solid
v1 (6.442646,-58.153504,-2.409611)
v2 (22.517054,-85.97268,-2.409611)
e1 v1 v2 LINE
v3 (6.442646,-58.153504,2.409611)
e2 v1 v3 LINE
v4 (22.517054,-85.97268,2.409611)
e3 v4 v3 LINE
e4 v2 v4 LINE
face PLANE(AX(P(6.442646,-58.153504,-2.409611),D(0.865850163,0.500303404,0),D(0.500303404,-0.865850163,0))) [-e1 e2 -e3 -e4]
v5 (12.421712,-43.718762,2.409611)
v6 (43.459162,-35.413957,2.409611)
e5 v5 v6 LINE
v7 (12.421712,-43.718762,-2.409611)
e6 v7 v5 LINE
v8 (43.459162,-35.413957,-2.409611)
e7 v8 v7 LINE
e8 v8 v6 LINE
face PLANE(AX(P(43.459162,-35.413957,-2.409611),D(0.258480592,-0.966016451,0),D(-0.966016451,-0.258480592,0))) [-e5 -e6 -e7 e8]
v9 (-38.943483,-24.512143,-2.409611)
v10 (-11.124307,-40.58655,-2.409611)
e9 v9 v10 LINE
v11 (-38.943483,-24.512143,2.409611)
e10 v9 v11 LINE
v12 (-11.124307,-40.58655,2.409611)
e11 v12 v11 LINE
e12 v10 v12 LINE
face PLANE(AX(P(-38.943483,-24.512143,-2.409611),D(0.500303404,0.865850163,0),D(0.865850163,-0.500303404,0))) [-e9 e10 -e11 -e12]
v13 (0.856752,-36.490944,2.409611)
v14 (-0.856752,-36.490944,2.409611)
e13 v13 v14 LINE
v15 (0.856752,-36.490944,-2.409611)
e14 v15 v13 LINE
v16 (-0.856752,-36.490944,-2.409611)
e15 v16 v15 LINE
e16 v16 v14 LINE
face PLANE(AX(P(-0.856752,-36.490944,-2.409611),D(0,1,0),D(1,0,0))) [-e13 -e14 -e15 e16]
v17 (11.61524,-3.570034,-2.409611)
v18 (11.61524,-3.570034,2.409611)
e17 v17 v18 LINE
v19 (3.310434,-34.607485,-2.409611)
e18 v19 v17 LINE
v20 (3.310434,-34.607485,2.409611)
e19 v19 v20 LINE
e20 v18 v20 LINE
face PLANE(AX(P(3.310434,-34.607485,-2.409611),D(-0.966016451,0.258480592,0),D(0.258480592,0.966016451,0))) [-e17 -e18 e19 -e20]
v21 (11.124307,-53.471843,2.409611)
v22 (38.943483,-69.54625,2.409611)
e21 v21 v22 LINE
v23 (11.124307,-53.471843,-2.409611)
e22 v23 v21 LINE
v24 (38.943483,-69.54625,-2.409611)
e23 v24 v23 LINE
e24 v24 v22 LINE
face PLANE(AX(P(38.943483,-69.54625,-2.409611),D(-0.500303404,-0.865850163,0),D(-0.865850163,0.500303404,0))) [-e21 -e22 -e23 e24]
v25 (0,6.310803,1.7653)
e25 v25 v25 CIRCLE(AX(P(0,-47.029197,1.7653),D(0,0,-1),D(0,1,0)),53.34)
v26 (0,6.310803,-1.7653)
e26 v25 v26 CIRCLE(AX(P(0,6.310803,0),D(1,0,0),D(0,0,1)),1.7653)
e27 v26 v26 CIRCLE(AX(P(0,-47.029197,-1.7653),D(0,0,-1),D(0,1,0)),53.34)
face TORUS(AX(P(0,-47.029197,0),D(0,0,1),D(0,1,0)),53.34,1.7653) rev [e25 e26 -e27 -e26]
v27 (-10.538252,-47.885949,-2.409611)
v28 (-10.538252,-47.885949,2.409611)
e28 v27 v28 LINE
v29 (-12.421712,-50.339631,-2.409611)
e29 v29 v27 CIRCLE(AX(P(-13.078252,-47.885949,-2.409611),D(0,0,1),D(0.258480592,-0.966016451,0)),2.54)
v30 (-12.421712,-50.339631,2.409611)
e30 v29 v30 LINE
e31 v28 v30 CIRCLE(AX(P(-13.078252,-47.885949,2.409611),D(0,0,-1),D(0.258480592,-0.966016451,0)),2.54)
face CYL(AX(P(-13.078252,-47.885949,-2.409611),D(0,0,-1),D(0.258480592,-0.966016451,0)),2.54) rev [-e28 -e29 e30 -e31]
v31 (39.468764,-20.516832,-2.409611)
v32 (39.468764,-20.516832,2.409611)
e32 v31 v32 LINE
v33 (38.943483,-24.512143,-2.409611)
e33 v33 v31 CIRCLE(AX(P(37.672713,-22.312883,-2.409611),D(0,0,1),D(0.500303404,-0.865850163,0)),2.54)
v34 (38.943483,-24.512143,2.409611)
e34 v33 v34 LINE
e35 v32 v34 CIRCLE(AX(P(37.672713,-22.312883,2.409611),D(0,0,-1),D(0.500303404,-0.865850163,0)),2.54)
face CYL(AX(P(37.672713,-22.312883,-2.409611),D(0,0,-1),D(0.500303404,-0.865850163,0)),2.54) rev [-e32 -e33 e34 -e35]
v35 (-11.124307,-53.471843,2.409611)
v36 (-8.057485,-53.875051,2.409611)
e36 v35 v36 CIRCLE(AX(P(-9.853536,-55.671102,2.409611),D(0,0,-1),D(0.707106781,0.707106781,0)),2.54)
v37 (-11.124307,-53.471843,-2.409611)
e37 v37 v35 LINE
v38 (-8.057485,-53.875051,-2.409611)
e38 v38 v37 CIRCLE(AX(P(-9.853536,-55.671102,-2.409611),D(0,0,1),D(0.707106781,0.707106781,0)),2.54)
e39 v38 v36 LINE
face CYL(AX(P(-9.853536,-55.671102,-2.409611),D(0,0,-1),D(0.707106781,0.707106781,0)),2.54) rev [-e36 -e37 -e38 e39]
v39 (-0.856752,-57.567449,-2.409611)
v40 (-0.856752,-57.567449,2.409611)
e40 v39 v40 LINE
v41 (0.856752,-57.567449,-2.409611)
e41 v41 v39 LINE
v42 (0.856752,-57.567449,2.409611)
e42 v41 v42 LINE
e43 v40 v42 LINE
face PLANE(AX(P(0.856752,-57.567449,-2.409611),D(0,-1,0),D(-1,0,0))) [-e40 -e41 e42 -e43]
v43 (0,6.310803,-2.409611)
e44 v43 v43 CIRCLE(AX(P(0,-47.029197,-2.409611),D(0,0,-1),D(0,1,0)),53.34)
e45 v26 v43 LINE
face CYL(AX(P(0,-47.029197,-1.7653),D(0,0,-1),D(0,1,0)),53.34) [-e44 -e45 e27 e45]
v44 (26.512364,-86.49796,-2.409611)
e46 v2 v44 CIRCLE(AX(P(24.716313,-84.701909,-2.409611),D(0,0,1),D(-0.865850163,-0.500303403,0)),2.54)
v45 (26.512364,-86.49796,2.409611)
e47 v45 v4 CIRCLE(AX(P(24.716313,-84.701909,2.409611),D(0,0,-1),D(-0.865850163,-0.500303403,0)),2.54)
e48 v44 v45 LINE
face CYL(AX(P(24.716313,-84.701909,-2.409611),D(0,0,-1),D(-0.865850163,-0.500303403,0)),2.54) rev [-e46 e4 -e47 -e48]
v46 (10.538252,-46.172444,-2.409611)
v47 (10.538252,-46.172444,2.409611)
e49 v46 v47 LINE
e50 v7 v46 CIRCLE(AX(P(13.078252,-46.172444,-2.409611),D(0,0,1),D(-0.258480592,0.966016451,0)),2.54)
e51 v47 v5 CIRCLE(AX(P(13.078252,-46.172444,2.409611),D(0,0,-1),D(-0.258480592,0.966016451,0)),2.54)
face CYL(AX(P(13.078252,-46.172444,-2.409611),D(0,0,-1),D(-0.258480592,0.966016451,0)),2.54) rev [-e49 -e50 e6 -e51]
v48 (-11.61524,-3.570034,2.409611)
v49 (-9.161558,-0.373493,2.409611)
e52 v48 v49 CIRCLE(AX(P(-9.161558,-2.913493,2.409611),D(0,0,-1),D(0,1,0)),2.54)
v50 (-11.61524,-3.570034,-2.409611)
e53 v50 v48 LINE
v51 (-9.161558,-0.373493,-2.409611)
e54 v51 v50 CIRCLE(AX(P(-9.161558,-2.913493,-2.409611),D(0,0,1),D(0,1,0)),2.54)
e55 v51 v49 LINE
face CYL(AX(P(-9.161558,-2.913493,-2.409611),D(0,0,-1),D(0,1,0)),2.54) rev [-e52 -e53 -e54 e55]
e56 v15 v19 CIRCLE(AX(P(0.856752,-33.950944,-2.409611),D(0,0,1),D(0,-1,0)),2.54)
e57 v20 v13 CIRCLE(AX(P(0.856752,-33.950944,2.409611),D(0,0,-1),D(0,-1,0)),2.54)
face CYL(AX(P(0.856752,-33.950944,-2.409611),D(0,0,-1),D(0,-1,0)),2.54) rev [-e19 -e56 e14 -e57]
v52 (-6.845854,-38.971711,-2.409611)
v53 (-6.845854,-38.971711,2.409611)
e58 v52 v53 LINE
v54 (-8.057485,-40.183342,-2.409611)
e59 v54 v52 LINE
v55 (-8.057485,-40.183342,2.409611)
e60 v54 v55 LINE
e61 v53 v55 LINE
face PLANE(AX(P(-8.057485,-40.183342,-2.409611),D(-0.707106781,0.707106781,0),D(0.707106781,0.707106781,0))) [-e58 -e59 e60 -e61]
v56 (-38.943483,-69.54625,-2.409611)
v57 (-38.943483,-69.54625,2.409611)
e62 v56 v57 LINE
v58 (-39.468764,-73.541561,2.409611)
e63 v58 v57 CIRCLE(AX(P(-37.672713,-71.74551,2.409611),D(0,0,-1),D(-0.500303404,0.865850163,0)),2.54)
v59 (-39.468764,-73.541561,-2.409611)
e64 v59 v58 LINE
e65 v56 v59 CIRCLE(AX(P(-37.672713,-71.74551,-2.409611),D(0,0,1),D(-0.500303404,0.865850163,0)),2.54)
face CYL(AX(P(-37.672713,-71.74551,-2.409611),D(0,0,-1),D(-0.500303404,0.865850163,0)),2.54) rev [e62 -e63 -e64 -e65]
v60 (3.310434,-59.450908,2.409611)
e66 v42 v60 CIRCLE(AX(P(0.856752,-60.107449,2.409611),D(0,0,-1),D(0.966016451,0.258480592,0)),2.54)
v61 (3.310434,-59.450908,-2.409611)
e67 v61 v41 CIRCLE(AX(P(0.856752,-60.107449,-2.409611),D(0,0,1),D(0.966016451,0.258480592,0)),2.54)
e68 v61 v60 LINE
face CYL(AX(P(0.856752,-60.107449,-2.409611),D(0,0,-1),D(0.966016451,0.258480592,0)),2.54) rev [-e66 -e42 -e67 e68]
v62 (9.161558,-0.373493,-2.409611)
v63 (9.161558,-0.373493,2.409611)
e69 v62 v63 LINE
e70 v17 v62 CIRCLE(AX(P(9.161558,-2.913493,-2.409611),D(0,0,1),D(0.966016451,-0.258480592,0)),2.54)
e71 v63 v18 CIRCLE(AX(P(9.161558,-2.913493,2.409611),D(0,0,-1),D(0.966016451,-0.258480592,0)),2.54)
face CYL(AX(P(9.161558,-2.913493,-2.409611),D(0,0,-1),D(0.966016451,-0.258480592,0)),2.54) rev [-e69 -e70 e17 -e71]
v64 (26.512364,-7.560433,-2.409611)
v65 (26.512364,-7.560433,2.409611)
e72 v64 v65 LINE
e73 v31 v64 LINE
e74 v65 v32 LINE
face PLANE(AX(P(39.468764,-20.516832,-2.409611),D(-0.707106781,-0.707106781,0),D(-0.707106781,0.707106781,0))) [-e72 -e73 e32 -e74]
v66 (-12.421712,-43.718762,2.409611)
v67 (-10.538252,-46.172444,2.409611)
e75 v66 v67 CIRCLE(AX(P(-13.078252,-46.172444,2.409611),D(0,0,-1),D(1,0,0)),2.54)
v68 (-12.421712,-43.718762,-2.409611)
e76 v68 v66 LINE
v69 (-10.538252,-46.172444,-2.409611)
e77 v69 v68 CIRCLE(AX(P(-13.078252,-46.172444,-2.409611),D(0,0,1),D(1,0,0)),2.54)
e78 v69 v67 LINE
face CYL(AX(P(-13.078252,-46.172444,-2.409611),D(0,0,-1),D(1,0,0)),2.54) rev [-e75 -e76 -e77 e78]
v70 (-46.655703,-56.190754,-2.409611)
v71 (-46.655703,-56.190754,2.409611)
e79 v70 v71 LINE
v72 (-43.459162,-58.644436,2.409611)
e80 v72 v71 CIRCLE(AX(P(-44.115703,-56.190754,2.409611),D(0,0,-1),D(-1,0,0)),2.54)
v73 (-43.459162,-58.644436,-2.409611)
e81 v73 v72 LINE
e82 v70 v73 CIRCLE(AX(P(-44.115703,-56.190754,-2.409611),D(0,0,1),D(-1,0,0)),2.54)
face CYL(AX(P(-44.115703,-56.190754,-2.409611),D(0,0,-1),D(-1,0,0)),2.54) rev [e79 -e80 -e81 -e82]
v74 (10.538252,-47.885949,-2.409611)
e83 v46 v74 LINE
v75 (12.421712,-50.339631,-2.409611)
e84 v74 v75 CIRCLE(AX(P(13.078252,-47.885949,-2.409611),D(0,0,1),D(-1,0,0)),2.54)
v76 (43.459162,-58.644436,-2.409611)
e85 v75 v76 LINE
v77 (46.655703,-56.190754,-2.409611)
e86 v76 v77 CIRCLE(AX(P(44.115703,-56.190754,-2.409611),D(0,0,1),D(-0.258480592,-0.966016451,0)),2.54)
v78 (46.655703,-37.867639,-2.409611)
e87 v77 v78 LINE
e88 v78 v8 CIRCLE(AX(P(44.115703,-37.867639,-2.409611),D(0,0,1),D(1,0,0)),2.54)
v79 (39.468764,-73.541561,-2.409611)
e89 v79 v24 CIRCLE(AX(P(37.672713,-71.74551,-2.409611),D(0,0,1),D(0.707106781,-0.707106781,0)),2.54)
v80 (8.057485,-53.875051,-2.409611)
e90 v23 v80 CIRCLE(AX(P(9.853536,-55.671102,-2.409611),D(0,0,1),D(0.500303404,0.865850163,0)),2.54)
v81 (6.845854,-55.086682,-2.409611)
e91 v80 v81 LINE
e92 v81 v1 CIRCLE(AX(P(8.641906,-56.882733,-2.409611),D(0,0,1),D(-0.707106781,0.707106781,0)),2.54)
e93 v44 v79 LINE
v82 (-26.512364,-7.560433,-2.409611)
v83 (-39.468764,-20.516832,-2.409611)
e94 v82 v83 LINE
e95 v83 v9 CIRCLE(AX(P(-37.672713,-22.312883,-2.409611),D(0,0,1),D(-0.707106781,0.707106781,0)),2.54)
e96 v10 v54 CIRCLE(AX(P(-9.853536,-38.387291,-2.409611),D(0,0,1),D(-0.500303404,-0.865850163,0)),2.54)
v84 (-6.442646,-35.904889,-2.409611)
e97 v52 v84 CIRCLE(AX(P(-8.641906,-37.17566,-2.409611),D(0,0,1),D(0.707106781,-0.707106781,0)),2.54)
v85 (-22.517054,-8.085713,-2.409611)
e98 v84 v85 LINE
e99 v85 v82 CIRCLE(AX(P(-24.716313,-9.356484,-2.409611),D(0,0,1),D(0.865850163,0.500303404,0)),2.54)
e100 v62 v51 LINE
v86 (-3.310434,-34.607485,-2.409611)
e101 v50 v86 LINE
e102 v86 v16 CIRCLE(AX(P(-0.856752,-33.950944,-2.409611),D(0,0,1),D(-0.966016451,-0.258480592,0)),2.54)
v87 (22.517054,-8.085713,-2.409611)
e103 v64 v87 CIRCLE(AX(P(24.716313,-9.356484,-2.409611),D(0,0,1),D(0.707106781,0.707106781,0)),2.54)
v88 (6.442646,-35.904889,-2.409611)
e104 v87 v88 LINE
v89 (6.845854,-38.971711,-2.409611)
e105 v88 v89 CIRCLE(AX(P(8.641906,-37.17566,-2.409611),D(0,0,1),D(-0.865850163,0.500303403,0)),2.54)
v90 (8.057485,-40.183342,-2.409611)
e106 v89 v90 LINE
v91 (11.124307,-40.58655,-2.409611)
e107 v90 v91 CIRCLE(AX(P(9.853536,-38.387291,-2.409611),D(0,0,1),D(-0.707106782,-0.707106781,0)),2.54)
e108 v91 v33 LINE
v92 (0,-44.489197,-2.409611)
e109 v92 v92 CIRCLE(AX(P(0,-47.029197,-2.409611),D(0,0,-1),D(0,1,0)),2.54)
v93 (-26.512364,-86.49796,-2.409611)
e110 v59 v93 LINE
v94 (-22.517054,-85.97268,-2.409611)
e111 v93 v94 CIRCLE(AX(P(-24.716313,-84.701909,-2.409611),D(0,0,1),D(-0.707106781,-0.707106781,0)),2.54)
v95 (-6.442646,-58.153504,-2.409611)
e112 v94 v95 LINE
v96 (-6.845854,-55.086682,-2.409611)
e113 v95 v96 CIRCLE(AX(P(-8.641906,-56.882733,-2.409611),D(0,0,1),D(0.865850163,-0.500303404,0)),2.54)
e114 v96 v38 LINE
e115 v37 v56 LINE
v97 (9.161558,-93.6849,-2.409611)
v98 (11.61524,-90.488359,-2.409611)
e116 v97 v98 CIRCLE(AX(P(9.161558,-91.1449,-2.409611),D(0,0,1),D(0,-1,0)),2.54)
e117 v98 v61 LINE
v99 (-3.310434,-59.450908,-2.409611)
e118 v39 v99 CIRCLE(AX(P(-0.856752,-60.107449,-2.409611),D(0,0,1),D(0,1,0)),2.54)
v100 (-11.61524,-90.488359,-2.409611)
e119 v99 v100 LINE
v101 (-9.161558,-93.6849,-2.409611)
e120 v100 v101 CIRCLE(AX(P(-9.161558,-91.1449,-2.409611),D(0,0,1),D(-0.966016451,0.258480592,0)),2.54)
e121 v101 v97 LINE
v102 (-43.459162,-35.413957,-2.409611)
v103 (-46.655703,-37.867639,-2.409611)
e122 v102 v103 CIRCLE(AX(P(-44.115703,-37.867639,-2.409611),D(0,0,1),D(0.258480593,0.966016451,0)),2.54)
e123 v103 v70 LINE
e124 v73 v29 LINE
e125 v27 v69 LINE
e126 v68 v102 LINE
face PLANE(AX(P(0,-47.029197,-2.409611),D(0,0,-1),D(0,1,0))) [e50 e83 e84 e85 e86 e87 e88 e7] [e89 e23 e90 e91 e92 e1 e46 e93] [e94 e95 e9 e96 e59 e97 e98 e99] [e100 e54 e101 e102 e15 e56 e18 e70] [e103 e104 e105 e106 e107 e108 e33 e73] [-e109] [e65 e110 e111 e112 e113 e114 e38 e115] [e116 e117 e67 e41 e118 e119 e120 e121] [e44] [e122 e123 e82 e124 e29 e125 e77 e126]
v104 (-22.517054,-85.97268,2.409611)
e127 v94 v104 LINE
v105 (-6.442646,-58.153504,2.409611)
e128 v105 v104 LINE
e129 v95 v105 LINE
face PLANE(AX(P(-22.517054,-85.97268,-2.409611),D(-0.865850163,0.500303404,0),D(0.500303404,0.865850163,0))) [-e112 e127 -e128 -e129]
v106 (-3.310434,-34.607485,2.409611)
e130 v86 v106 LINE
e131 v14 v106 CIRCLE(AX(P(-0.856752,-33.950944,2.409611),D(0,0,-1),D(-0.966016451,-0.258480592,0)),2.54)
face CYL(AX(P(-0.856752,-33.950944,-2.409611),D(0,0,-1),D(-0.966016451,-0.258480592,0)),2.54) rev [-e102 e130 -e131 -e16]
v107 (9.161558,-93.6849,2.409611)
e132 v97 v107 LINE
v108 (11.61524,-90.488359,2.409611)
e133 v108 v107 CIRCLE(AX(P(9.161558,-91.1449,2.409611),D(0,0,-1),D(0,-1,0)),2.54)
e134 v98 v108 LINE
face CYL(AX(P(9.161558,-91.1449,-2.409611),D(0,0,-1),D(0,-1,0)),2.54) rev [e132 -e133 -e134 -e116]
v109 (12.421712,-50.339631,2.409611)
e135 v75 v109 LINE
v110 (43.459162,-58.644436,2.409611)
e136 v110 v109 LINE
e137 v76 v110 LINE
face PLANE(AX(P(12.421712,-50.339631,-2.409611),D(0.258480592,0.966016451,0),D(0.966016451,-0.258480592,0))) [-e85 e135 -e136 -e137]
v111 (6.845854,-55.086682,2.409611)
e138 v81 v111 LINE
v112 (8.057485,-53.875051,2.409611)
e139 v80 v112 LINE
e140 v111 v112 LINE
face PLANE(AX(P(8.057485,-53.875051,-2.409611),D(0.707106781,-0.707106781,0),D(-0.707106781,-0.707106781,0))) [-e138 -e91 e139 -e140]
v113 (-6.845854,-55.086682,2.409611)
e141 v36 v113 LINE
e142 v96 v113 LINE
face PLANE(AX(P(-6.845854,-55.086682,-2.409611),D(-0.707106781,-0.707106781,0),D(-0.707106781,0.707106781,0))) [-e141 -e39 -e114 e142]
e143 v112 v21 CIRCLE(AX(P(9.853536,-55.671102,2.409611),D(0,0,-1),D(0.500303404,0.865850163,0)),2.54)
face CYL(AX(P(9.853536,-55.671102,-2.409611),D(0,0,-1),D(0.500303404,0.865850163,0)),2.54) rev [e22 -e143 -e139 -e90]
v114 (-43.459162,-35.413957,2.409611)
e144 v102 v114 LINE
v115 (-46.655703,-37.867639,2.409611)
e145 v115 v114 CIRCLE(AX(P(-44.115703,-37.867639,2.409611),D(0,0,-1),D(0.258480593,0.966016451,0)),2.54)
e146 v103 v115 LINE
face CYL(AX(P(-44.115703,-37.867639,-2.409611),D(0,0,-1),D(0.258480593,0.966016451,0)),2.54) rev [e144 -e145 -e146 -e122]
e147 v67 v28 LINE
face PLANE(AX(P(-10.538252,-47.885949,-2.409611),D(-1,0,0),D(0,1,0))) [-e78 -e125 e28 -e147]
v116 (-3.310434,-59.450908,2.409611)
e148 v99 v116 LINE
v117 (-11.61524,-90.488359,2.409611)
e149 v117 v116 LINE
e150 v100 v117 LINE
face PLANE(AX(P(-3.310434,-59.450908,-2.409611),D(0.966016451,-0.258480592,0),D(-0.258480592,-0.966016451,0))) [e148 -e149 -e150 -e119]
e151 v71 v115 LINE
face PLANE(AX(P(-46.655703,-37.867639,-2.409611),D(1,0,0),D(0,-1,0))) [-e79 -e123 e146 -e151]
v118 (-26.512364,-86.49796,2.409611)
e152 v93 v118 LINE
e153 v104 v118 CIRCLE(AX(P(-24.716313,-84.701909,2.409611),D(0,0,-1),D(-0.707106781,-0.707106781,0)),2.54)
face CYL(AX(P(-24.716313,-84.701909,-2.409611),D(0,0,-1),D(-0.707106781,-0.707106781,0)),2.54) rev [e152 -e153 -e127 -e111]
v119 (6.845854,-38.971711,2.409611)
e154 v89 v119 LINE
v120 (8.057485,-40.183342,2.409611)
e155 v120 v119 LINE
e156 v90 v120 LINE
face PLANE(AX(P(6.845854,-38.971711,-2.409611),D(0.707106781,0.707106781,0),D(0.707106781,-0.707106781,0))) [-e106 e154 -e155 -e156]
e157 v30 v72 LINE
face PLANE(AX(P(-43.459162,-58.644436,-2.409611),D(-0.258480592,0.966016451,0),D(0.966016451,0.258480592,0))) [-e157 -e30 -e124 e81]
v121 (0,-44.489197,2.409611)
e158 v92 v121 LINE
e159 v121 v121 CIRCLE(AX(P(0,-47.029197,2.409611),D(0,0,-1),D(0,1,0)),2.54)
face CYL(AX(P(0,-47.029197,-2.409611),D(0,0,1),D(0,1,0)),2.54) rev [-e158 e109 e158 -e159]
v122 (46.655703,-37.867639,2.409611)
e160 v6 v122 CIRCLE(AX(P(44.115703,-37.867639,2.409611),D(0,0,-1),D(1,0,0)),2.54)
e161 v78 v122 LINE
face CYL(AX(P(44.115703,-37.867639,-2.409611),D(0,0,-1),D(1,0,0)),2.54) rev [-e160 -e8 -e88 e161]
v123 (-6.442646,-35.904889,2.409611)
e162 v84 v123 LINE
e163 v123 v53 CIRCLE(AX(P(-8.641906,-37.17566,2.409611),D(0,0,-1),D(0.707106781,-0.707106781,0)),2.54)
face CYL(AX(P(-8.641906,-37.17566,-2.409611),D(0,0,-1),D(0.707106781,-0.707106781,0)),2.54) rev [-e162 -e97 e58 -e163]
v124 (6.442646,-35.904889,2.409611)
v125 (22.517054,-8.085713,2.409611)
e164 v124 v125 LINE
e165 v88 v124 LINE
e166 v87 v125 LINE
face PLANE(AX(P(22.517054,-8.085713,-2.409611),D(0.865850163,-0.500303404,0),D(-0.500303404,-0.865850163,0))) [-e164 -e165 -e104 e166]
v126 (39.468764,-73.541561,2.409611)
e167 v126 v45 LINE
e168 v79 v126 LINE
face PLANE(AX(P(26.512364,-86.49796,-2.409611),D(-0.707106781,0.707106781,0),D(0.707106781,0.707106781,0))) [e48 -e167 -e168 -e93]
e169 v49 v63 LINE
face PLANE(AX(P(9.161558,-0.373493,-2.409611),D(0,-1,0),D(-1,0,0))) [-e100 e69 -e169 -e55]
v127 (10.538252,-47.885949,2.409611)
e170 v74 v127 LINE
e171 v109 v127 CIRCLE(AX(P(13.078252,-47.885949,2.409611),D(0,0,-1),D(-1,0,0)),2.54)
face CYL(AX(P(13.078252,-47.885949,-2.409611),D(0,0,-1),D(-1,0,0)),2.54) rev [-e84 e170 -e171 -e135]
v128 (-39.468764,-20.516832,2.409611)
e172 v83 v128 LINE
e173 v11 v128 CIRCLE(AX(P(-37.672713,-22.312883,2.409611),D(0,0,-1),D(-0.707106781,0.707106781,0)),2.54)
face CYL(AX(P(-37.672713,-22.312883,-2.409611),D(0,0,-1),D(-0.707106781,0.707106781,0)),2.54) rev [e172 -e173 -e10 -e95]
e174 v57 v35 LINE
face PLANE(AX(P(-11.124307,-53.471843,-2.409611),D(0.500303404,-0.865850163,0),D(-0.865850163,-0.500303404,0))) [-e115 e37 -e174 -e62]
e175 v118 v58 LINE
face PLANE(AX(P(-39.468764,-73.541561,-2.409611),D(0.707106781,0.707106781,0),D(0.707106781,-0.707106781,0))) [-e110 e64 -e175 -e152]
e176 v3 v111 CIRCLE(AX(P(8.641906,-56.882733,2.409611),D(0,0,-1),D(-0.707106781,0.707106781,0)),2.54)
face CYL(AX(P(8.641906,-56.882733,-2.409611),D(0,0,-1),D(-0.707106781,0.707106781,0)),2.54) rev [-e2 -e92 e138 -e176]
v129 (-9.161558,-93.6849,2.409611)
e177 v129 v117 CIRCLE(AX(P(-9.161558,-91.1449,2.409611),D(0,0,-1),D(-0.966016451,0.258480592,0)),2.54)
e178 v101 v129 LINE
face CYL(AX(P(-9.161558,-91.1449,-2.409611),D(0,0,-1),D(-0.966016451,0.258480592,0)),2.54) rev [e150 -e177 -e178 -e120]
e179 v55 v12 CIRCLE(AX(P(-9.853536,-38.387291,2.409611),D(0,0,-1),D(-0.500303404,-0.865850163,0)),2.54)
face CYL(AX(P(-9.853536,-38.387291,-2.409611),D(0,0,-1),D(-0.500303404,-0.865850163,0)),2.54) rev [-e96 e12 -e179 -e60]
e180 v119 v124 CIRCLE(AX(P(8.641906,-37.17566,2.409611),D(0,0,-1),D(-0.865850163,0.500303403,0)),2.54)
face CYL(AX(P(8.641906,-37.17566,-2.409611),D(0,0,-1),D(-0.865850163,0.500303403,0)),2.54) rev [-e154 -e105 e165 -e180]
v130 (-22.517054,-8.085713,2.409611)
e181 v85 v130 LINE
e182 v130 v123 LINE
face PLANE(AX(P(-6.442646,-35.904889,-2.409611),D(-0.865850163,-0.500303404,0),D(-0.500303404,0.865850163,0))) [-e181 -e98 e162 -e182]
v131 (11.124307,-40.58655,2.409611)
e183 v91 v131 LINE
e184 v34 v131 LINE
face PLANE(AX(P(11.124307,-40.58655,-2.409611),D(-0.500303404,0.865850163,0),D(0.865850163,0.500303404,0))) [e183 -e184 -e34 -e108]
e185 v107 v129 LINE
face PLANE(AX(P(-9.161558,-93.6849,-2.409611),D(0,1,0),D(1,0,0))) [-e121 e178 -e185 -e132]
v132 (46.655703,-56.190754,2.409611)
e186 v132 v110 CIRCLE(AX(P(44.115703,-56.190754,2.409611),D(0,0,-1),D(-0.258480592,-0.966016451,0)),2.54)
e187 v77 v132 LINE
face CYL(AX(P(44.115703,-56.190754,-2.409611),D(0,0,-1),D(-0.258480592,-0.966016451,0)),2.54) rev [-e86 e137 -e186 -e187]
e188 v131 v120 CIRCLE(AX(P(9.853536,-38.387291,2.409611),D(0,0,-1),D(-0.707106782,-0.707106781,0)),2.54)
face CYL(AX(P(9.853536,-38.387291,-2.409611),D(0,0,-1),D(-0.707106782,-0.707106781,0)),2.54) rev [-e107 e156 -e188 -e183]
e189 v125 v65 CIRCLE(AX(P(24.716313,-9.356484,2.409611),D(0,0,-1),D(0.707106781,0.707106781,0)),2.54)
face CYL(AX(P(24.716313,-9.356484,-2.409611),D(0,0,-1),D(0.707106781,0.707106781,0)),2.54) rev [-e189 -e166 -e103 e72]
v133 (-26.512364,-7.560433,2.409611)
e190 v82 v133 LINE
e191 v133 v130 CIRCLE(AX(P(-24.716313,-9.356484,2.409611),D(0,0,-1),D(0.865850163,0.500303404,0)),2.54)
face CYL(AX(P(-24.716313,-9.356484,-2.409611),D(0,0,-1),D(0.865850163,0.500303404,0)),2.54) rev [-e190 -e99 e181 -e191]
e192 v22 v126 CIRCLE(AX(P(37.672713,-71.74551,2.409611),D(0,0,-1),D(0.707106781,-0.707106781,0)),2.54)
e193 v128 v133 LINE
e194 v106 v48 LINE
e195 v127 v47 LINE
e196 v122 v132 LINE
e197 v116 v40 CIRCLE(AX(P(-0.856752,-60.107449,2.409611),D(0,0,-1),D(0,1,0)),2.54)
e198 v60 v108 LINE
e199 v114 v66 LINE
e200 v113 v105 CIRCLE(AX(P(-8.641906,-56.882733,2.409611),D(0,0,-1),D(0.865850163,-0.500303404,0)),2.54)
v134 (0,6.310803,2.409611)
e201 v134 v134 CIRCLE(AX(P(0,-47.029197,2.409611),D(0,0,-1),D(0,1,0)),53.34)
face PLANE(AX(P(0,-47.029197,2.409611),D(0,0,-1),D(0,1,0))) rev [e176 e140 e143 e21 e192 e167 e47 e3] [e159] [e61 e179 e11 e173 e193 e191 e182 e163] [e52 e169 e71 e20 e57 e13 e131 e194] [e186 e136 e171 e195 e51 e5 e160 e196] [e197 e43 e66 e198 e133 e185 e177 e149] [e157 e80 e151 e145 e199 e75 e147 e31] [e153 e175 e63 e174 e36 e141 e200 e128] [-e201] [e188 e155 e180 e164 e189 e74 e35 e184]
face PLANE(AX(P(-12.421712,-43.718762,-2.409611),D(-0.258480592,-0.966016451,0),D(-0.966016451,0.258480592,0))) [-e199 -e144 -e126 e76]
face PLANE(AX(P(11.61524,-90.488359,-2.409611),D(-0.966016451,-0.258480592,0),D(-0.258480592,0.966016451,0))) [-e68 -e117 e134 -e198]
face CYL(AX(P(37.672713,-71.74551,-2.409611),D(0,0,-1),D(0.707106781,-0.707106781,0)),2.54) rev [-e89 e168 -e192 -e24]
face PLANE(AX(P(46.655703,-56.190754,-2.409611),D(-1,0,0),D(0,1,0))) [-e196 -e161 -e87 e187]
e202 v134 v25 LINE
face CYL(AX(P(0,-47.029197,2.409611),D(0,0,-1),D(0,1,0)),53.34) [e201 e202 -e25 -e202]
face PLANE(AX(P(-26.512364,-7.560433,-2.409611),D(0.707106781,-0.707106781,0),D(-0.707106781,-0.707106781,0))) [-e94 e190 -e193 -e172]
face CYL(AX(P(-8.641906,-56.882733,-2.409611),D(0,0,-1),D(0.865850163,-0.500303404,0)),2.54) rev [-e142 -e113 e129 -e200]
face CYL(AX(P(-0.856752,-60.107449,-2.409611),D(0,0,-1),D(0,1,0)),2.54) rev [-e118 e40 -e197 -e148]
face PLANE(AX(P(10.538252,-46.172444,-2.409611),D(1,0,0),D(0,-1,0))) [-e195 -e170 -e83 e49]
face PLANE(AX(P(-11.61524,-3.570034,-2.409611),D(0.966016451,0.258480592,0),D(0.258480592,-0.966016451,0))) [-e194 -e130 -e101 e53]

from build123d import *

# Parameters (mm, degrees)
CUT_EXTRUDE1_DEPTH = 7.62


with BuildPart() as part:
    # Sketch1 → Revolve1 (revolve)
    with BuildSketch(Plane(origin=(0, 0, 0), x_dir=(0, 0, -1), z_dir=(1, 0, 0))):
        with BuildLine():
            Line((-2.409610907, -44.48919659), (-2.409610907, 6.31080341))
            Line((-2.409610907, 6.31080341), (-1.7653, 6.31080341))
            ThreePointArc((-1.7653, 6.31080341), (0, 4.54550341), (1.7653, 6.31080341))
            Line((1.7653, 6.31080341), (2.409610907, 6.31080341))
            Line((2.409610907, 6.31080341), (2.409610907, -44.48919659))
            Line((2.409610907, -44.48919659), (-2.409610907, -44.48919659))
        make_face()
    revolve(axis=Axis((0, -47.02919659, 19.251181834), (0, 0, -1)))

    # Sketch2 → Cut-Extrude1 (cut)
    with BuildSketch(Plane(origin=(0, 0, -2.409610907), x_dir=(-1, 0, 0), z_dir=(0, 0, -1))):
        with BuildLine():
            Line((-9.161557863, -0.373493478), (9.161557863, -0.373493478))
            ThreePointArc((9.161557863, -0.373493478), (11.176404431, -1.366886448), (11.615239648, -3.570034182))
            Line((11.615239648, -3.570034182), (3.310434261, -34.607484824))
            ThreePointArc((3.310434261, -34.607484824), (2.403359506, -35.965790688), (0.856752476, -36.490944119))
            Line((0.856752476, -36.490944119), (-0.856752476, -36.490944119))
            ThreePointArc((-0.856752476, -36.490944119), (-2.403359506, -35.965790688), (-3.310434261, -34.607484824))
            Line((-3.310434261, -34.607484824), (-11.615239648, -3.570034182))
            ThreePointArc((-11.615239648, -3.570034182), (-11.176404431, -1.366886448), (-9.161557863, -0.373493478))
        make_face()
        with BuildLine():
            Line((38.943483164, -24.512142867), (11.124307138, -40.586550481))
            ThreePointArc((11.124307138, -40.586550481), (9.52244114, -40.905619058), (8.057485269, -40.183342291))
            Line((8.057485269, -40.183342291), (6.845854298, -38.971711321))
            ThreePointArc((6.845854298, -38.971711321), (6.123577532, -37.506755449), (6.442646109, -35.904889451))
            Line((6.442646109, -35.904889451), (22.517053723, -8.085713426))
            ThreePointArc((22.517053723, -8.085713426), (24.385217783, -6.838156081), (26.512364361, -7.560432847))
            Line((26.512364361, -7.560432847), (39.468763743, -20.516832229))
            ThreePointArc((39.468763743, -20.516832229), (40.191040509, -22.643978806), (38.943483164, -24.512142867))
        make_face()
        with BuildLine():
            Line((43.459162408, -58.644436238), (12.421711766, -50.339630851))
            ThreePointArc((12.421711766, -50.339630851), (11.063405902, -49.432556096), (10.53825247, -47.885949066))
            Line((10.53825247, -47.885949066), (10.53825247, -46.172444114))
            ThreePointArc((10.53825247, -46.172444114), (11.063405902, -44.625837084), (12.421711766, -43.718762329))
            Line((12.421711766, -43.718762329), (43.459162408, -35.413956942))
            ThreePointArc((43.459162408, -35.413956942), (45.662310142, -35.852792158), (46.655703112, -37.867638727))
            Line((46.655703112, -37.867638727), (46.655703112, -56.190754453))
            ThreePointArc((46.655703112, -56.190754453), (45.662310142, -58.205601021), (43.459162408, -58.644436238))
        make_face()
        with BuildLine():
            Line((22.517053723, -85.972679753), (6.442646109, -58.153503728))
            ThreePointArc((6.442646109, -58.153503728), (6.123577532, -56.55163773), (6.845854298, -55.086681859))
            Line((6.845854298, -55.086681859), (8.057485269, -53.875050888))
            ThreePointArc((8.057485269, -53.875050888), (9.52244114, -53.152774122), (11.124307138, -53.471842699))
            Line((11.124307138, -53.471842699), (38.943483164, -69.546250313))
            ThreePointArc((38.943483164, -69.546250313), (40.191040509, -71.414414373), (39.468763743, -73.54156095))
            Line((39.468763743, -73.54156095), (26.512364361, -86.497960333))
            ThreePointArc((26.512364361, -86.497960333), (24.385217783, -87.220237099), (22.517053723, -85.972679753))
        make_face()
        with BuildLine():
            Line((-11.615239648, -90.488358998), (-3.310434261, -59.450908356))
            ThreePointArc((-3.310434261, -59.450908356), (-2.403359506, -58.092602492), (-0.856752476, -57.56744906))
            Line((-0.856752476, -57.56744906), (0.856752476, -57.56744906))
            ThreePointArc((0.856752476, -57.56744906), (2.403359506, -58.092602492), (3.310434261, -59.450908356))
            Line((3.310434261, -59.450908356), (11.615239648, -90.488358998))
            ThreePointArc((11.615239648, -90.488358998), (11.176404431, -92.691506732), (9.161557863, -93.684899702))
            Line((9.161557863, -93.684899702), (-9.161557863, -93.684899702))
            ThreePointArc((-9.161557863, -93.684899702), (-11.176404431, -92.691506732), (-11.615239648, -90.488358998))
        make_face()
        with BuildLine():
            Line((-38.943483164, -69.546250313), (-11.124307138, -53.471842699))
            ThreePointArc((-11.124307138, -53.471842699), (-9.52244114, -53.152774122), (-8.057485269, -53.875050888))
            Line((-8.057485269, -53.875050888), (-6.845854298, -55.086681859))
            ThreePointArc((-6.845854298, -55.086681859), (-6.123577532, -56.55163773), (-6.442646109, -58.153503728))
            Line((-6.442646109, -58.153503728), (-22.517053723, -85.972679753))
            ThreePointArc((-22.517053723, -85.972679753), (-24.385217783, -87.220237099), (-26.512364361, -86.497960333))
            Line((-26.512364361, -86.497960333), (-39.468763743, -73.54156095))
            ThreePointArc((-39.468763743, -73.54156095), (-40.191040509, -71.414414373), (-38.943483164, -69.546250313))
        make_face()
        with BuildLine():
            Line((-43.459162408, -35.413956942), (-12.421711766, -43.718762329))
            ThreePointArc((-12.421711766, -43.718762329), (-11.063405902, -44.625837084), (-10.53825247, -46.172444114))
            Line((-10.53825247, -46.172444114), (-10.53825247, -47.885949066))
            ThreePointArc((-10.53825247, -47.885949066), (-11.063405902, -49.432556096), (-12.421711766, -50.339630851))
            Line((-12.421711766, -50.339630851), (-43.459162408, -58.644436238))
            ThreePointArc((-43.459162408, -58.644436238), (-45.662310142, -58.205601021), (-46.655703112, -56.190754453))
            Line((-46.655703112, -56.190754453), (-46.655703112, -37.867638727))
            ThreePointArc((-46.655703112, -37.867638727), (-45.662310142, -35.852792158), (-43.459162408, -35.413956942))
        make_face()
        with BuildLine():
            Line((-22.517053723, -8.085713426), (-6.442646109, -35.904889451))
            ThreePointArc((-6.442646109, -35.904889451), (-6.123577532, -37.506755449), (-6.845854298, -38.971711321))
            Line((-6.845854298, -38.971711321), (-8.057485269, -40.183342291))
            ThreePointArc((-8.057485269, -40.183342291), (-9.52244114, -40.905619058), (-11.124307138, -40.586550481))
            Line((-11.124307138, -40.586550481), (-38.943483164, -24.512142867))
            ThreePointArc((-38.943483164, -24.512142867), (-40.191040509, -22.643978806), (-39.468763743, -20.516832229))
            Line((-39.468763743, -20.516832229), (-26.512364361, -7.560432847))
            ThreePointArc((-26.512364361, -7.560432847), (-24.385217783, -6.838156081), (-22.517053723, -8.085713426))
        make_face()
    extrude(amount=-CUT_EXTRUDE1_DEPTH, mode=Mode.SUBTRACT)


solid = part.part
